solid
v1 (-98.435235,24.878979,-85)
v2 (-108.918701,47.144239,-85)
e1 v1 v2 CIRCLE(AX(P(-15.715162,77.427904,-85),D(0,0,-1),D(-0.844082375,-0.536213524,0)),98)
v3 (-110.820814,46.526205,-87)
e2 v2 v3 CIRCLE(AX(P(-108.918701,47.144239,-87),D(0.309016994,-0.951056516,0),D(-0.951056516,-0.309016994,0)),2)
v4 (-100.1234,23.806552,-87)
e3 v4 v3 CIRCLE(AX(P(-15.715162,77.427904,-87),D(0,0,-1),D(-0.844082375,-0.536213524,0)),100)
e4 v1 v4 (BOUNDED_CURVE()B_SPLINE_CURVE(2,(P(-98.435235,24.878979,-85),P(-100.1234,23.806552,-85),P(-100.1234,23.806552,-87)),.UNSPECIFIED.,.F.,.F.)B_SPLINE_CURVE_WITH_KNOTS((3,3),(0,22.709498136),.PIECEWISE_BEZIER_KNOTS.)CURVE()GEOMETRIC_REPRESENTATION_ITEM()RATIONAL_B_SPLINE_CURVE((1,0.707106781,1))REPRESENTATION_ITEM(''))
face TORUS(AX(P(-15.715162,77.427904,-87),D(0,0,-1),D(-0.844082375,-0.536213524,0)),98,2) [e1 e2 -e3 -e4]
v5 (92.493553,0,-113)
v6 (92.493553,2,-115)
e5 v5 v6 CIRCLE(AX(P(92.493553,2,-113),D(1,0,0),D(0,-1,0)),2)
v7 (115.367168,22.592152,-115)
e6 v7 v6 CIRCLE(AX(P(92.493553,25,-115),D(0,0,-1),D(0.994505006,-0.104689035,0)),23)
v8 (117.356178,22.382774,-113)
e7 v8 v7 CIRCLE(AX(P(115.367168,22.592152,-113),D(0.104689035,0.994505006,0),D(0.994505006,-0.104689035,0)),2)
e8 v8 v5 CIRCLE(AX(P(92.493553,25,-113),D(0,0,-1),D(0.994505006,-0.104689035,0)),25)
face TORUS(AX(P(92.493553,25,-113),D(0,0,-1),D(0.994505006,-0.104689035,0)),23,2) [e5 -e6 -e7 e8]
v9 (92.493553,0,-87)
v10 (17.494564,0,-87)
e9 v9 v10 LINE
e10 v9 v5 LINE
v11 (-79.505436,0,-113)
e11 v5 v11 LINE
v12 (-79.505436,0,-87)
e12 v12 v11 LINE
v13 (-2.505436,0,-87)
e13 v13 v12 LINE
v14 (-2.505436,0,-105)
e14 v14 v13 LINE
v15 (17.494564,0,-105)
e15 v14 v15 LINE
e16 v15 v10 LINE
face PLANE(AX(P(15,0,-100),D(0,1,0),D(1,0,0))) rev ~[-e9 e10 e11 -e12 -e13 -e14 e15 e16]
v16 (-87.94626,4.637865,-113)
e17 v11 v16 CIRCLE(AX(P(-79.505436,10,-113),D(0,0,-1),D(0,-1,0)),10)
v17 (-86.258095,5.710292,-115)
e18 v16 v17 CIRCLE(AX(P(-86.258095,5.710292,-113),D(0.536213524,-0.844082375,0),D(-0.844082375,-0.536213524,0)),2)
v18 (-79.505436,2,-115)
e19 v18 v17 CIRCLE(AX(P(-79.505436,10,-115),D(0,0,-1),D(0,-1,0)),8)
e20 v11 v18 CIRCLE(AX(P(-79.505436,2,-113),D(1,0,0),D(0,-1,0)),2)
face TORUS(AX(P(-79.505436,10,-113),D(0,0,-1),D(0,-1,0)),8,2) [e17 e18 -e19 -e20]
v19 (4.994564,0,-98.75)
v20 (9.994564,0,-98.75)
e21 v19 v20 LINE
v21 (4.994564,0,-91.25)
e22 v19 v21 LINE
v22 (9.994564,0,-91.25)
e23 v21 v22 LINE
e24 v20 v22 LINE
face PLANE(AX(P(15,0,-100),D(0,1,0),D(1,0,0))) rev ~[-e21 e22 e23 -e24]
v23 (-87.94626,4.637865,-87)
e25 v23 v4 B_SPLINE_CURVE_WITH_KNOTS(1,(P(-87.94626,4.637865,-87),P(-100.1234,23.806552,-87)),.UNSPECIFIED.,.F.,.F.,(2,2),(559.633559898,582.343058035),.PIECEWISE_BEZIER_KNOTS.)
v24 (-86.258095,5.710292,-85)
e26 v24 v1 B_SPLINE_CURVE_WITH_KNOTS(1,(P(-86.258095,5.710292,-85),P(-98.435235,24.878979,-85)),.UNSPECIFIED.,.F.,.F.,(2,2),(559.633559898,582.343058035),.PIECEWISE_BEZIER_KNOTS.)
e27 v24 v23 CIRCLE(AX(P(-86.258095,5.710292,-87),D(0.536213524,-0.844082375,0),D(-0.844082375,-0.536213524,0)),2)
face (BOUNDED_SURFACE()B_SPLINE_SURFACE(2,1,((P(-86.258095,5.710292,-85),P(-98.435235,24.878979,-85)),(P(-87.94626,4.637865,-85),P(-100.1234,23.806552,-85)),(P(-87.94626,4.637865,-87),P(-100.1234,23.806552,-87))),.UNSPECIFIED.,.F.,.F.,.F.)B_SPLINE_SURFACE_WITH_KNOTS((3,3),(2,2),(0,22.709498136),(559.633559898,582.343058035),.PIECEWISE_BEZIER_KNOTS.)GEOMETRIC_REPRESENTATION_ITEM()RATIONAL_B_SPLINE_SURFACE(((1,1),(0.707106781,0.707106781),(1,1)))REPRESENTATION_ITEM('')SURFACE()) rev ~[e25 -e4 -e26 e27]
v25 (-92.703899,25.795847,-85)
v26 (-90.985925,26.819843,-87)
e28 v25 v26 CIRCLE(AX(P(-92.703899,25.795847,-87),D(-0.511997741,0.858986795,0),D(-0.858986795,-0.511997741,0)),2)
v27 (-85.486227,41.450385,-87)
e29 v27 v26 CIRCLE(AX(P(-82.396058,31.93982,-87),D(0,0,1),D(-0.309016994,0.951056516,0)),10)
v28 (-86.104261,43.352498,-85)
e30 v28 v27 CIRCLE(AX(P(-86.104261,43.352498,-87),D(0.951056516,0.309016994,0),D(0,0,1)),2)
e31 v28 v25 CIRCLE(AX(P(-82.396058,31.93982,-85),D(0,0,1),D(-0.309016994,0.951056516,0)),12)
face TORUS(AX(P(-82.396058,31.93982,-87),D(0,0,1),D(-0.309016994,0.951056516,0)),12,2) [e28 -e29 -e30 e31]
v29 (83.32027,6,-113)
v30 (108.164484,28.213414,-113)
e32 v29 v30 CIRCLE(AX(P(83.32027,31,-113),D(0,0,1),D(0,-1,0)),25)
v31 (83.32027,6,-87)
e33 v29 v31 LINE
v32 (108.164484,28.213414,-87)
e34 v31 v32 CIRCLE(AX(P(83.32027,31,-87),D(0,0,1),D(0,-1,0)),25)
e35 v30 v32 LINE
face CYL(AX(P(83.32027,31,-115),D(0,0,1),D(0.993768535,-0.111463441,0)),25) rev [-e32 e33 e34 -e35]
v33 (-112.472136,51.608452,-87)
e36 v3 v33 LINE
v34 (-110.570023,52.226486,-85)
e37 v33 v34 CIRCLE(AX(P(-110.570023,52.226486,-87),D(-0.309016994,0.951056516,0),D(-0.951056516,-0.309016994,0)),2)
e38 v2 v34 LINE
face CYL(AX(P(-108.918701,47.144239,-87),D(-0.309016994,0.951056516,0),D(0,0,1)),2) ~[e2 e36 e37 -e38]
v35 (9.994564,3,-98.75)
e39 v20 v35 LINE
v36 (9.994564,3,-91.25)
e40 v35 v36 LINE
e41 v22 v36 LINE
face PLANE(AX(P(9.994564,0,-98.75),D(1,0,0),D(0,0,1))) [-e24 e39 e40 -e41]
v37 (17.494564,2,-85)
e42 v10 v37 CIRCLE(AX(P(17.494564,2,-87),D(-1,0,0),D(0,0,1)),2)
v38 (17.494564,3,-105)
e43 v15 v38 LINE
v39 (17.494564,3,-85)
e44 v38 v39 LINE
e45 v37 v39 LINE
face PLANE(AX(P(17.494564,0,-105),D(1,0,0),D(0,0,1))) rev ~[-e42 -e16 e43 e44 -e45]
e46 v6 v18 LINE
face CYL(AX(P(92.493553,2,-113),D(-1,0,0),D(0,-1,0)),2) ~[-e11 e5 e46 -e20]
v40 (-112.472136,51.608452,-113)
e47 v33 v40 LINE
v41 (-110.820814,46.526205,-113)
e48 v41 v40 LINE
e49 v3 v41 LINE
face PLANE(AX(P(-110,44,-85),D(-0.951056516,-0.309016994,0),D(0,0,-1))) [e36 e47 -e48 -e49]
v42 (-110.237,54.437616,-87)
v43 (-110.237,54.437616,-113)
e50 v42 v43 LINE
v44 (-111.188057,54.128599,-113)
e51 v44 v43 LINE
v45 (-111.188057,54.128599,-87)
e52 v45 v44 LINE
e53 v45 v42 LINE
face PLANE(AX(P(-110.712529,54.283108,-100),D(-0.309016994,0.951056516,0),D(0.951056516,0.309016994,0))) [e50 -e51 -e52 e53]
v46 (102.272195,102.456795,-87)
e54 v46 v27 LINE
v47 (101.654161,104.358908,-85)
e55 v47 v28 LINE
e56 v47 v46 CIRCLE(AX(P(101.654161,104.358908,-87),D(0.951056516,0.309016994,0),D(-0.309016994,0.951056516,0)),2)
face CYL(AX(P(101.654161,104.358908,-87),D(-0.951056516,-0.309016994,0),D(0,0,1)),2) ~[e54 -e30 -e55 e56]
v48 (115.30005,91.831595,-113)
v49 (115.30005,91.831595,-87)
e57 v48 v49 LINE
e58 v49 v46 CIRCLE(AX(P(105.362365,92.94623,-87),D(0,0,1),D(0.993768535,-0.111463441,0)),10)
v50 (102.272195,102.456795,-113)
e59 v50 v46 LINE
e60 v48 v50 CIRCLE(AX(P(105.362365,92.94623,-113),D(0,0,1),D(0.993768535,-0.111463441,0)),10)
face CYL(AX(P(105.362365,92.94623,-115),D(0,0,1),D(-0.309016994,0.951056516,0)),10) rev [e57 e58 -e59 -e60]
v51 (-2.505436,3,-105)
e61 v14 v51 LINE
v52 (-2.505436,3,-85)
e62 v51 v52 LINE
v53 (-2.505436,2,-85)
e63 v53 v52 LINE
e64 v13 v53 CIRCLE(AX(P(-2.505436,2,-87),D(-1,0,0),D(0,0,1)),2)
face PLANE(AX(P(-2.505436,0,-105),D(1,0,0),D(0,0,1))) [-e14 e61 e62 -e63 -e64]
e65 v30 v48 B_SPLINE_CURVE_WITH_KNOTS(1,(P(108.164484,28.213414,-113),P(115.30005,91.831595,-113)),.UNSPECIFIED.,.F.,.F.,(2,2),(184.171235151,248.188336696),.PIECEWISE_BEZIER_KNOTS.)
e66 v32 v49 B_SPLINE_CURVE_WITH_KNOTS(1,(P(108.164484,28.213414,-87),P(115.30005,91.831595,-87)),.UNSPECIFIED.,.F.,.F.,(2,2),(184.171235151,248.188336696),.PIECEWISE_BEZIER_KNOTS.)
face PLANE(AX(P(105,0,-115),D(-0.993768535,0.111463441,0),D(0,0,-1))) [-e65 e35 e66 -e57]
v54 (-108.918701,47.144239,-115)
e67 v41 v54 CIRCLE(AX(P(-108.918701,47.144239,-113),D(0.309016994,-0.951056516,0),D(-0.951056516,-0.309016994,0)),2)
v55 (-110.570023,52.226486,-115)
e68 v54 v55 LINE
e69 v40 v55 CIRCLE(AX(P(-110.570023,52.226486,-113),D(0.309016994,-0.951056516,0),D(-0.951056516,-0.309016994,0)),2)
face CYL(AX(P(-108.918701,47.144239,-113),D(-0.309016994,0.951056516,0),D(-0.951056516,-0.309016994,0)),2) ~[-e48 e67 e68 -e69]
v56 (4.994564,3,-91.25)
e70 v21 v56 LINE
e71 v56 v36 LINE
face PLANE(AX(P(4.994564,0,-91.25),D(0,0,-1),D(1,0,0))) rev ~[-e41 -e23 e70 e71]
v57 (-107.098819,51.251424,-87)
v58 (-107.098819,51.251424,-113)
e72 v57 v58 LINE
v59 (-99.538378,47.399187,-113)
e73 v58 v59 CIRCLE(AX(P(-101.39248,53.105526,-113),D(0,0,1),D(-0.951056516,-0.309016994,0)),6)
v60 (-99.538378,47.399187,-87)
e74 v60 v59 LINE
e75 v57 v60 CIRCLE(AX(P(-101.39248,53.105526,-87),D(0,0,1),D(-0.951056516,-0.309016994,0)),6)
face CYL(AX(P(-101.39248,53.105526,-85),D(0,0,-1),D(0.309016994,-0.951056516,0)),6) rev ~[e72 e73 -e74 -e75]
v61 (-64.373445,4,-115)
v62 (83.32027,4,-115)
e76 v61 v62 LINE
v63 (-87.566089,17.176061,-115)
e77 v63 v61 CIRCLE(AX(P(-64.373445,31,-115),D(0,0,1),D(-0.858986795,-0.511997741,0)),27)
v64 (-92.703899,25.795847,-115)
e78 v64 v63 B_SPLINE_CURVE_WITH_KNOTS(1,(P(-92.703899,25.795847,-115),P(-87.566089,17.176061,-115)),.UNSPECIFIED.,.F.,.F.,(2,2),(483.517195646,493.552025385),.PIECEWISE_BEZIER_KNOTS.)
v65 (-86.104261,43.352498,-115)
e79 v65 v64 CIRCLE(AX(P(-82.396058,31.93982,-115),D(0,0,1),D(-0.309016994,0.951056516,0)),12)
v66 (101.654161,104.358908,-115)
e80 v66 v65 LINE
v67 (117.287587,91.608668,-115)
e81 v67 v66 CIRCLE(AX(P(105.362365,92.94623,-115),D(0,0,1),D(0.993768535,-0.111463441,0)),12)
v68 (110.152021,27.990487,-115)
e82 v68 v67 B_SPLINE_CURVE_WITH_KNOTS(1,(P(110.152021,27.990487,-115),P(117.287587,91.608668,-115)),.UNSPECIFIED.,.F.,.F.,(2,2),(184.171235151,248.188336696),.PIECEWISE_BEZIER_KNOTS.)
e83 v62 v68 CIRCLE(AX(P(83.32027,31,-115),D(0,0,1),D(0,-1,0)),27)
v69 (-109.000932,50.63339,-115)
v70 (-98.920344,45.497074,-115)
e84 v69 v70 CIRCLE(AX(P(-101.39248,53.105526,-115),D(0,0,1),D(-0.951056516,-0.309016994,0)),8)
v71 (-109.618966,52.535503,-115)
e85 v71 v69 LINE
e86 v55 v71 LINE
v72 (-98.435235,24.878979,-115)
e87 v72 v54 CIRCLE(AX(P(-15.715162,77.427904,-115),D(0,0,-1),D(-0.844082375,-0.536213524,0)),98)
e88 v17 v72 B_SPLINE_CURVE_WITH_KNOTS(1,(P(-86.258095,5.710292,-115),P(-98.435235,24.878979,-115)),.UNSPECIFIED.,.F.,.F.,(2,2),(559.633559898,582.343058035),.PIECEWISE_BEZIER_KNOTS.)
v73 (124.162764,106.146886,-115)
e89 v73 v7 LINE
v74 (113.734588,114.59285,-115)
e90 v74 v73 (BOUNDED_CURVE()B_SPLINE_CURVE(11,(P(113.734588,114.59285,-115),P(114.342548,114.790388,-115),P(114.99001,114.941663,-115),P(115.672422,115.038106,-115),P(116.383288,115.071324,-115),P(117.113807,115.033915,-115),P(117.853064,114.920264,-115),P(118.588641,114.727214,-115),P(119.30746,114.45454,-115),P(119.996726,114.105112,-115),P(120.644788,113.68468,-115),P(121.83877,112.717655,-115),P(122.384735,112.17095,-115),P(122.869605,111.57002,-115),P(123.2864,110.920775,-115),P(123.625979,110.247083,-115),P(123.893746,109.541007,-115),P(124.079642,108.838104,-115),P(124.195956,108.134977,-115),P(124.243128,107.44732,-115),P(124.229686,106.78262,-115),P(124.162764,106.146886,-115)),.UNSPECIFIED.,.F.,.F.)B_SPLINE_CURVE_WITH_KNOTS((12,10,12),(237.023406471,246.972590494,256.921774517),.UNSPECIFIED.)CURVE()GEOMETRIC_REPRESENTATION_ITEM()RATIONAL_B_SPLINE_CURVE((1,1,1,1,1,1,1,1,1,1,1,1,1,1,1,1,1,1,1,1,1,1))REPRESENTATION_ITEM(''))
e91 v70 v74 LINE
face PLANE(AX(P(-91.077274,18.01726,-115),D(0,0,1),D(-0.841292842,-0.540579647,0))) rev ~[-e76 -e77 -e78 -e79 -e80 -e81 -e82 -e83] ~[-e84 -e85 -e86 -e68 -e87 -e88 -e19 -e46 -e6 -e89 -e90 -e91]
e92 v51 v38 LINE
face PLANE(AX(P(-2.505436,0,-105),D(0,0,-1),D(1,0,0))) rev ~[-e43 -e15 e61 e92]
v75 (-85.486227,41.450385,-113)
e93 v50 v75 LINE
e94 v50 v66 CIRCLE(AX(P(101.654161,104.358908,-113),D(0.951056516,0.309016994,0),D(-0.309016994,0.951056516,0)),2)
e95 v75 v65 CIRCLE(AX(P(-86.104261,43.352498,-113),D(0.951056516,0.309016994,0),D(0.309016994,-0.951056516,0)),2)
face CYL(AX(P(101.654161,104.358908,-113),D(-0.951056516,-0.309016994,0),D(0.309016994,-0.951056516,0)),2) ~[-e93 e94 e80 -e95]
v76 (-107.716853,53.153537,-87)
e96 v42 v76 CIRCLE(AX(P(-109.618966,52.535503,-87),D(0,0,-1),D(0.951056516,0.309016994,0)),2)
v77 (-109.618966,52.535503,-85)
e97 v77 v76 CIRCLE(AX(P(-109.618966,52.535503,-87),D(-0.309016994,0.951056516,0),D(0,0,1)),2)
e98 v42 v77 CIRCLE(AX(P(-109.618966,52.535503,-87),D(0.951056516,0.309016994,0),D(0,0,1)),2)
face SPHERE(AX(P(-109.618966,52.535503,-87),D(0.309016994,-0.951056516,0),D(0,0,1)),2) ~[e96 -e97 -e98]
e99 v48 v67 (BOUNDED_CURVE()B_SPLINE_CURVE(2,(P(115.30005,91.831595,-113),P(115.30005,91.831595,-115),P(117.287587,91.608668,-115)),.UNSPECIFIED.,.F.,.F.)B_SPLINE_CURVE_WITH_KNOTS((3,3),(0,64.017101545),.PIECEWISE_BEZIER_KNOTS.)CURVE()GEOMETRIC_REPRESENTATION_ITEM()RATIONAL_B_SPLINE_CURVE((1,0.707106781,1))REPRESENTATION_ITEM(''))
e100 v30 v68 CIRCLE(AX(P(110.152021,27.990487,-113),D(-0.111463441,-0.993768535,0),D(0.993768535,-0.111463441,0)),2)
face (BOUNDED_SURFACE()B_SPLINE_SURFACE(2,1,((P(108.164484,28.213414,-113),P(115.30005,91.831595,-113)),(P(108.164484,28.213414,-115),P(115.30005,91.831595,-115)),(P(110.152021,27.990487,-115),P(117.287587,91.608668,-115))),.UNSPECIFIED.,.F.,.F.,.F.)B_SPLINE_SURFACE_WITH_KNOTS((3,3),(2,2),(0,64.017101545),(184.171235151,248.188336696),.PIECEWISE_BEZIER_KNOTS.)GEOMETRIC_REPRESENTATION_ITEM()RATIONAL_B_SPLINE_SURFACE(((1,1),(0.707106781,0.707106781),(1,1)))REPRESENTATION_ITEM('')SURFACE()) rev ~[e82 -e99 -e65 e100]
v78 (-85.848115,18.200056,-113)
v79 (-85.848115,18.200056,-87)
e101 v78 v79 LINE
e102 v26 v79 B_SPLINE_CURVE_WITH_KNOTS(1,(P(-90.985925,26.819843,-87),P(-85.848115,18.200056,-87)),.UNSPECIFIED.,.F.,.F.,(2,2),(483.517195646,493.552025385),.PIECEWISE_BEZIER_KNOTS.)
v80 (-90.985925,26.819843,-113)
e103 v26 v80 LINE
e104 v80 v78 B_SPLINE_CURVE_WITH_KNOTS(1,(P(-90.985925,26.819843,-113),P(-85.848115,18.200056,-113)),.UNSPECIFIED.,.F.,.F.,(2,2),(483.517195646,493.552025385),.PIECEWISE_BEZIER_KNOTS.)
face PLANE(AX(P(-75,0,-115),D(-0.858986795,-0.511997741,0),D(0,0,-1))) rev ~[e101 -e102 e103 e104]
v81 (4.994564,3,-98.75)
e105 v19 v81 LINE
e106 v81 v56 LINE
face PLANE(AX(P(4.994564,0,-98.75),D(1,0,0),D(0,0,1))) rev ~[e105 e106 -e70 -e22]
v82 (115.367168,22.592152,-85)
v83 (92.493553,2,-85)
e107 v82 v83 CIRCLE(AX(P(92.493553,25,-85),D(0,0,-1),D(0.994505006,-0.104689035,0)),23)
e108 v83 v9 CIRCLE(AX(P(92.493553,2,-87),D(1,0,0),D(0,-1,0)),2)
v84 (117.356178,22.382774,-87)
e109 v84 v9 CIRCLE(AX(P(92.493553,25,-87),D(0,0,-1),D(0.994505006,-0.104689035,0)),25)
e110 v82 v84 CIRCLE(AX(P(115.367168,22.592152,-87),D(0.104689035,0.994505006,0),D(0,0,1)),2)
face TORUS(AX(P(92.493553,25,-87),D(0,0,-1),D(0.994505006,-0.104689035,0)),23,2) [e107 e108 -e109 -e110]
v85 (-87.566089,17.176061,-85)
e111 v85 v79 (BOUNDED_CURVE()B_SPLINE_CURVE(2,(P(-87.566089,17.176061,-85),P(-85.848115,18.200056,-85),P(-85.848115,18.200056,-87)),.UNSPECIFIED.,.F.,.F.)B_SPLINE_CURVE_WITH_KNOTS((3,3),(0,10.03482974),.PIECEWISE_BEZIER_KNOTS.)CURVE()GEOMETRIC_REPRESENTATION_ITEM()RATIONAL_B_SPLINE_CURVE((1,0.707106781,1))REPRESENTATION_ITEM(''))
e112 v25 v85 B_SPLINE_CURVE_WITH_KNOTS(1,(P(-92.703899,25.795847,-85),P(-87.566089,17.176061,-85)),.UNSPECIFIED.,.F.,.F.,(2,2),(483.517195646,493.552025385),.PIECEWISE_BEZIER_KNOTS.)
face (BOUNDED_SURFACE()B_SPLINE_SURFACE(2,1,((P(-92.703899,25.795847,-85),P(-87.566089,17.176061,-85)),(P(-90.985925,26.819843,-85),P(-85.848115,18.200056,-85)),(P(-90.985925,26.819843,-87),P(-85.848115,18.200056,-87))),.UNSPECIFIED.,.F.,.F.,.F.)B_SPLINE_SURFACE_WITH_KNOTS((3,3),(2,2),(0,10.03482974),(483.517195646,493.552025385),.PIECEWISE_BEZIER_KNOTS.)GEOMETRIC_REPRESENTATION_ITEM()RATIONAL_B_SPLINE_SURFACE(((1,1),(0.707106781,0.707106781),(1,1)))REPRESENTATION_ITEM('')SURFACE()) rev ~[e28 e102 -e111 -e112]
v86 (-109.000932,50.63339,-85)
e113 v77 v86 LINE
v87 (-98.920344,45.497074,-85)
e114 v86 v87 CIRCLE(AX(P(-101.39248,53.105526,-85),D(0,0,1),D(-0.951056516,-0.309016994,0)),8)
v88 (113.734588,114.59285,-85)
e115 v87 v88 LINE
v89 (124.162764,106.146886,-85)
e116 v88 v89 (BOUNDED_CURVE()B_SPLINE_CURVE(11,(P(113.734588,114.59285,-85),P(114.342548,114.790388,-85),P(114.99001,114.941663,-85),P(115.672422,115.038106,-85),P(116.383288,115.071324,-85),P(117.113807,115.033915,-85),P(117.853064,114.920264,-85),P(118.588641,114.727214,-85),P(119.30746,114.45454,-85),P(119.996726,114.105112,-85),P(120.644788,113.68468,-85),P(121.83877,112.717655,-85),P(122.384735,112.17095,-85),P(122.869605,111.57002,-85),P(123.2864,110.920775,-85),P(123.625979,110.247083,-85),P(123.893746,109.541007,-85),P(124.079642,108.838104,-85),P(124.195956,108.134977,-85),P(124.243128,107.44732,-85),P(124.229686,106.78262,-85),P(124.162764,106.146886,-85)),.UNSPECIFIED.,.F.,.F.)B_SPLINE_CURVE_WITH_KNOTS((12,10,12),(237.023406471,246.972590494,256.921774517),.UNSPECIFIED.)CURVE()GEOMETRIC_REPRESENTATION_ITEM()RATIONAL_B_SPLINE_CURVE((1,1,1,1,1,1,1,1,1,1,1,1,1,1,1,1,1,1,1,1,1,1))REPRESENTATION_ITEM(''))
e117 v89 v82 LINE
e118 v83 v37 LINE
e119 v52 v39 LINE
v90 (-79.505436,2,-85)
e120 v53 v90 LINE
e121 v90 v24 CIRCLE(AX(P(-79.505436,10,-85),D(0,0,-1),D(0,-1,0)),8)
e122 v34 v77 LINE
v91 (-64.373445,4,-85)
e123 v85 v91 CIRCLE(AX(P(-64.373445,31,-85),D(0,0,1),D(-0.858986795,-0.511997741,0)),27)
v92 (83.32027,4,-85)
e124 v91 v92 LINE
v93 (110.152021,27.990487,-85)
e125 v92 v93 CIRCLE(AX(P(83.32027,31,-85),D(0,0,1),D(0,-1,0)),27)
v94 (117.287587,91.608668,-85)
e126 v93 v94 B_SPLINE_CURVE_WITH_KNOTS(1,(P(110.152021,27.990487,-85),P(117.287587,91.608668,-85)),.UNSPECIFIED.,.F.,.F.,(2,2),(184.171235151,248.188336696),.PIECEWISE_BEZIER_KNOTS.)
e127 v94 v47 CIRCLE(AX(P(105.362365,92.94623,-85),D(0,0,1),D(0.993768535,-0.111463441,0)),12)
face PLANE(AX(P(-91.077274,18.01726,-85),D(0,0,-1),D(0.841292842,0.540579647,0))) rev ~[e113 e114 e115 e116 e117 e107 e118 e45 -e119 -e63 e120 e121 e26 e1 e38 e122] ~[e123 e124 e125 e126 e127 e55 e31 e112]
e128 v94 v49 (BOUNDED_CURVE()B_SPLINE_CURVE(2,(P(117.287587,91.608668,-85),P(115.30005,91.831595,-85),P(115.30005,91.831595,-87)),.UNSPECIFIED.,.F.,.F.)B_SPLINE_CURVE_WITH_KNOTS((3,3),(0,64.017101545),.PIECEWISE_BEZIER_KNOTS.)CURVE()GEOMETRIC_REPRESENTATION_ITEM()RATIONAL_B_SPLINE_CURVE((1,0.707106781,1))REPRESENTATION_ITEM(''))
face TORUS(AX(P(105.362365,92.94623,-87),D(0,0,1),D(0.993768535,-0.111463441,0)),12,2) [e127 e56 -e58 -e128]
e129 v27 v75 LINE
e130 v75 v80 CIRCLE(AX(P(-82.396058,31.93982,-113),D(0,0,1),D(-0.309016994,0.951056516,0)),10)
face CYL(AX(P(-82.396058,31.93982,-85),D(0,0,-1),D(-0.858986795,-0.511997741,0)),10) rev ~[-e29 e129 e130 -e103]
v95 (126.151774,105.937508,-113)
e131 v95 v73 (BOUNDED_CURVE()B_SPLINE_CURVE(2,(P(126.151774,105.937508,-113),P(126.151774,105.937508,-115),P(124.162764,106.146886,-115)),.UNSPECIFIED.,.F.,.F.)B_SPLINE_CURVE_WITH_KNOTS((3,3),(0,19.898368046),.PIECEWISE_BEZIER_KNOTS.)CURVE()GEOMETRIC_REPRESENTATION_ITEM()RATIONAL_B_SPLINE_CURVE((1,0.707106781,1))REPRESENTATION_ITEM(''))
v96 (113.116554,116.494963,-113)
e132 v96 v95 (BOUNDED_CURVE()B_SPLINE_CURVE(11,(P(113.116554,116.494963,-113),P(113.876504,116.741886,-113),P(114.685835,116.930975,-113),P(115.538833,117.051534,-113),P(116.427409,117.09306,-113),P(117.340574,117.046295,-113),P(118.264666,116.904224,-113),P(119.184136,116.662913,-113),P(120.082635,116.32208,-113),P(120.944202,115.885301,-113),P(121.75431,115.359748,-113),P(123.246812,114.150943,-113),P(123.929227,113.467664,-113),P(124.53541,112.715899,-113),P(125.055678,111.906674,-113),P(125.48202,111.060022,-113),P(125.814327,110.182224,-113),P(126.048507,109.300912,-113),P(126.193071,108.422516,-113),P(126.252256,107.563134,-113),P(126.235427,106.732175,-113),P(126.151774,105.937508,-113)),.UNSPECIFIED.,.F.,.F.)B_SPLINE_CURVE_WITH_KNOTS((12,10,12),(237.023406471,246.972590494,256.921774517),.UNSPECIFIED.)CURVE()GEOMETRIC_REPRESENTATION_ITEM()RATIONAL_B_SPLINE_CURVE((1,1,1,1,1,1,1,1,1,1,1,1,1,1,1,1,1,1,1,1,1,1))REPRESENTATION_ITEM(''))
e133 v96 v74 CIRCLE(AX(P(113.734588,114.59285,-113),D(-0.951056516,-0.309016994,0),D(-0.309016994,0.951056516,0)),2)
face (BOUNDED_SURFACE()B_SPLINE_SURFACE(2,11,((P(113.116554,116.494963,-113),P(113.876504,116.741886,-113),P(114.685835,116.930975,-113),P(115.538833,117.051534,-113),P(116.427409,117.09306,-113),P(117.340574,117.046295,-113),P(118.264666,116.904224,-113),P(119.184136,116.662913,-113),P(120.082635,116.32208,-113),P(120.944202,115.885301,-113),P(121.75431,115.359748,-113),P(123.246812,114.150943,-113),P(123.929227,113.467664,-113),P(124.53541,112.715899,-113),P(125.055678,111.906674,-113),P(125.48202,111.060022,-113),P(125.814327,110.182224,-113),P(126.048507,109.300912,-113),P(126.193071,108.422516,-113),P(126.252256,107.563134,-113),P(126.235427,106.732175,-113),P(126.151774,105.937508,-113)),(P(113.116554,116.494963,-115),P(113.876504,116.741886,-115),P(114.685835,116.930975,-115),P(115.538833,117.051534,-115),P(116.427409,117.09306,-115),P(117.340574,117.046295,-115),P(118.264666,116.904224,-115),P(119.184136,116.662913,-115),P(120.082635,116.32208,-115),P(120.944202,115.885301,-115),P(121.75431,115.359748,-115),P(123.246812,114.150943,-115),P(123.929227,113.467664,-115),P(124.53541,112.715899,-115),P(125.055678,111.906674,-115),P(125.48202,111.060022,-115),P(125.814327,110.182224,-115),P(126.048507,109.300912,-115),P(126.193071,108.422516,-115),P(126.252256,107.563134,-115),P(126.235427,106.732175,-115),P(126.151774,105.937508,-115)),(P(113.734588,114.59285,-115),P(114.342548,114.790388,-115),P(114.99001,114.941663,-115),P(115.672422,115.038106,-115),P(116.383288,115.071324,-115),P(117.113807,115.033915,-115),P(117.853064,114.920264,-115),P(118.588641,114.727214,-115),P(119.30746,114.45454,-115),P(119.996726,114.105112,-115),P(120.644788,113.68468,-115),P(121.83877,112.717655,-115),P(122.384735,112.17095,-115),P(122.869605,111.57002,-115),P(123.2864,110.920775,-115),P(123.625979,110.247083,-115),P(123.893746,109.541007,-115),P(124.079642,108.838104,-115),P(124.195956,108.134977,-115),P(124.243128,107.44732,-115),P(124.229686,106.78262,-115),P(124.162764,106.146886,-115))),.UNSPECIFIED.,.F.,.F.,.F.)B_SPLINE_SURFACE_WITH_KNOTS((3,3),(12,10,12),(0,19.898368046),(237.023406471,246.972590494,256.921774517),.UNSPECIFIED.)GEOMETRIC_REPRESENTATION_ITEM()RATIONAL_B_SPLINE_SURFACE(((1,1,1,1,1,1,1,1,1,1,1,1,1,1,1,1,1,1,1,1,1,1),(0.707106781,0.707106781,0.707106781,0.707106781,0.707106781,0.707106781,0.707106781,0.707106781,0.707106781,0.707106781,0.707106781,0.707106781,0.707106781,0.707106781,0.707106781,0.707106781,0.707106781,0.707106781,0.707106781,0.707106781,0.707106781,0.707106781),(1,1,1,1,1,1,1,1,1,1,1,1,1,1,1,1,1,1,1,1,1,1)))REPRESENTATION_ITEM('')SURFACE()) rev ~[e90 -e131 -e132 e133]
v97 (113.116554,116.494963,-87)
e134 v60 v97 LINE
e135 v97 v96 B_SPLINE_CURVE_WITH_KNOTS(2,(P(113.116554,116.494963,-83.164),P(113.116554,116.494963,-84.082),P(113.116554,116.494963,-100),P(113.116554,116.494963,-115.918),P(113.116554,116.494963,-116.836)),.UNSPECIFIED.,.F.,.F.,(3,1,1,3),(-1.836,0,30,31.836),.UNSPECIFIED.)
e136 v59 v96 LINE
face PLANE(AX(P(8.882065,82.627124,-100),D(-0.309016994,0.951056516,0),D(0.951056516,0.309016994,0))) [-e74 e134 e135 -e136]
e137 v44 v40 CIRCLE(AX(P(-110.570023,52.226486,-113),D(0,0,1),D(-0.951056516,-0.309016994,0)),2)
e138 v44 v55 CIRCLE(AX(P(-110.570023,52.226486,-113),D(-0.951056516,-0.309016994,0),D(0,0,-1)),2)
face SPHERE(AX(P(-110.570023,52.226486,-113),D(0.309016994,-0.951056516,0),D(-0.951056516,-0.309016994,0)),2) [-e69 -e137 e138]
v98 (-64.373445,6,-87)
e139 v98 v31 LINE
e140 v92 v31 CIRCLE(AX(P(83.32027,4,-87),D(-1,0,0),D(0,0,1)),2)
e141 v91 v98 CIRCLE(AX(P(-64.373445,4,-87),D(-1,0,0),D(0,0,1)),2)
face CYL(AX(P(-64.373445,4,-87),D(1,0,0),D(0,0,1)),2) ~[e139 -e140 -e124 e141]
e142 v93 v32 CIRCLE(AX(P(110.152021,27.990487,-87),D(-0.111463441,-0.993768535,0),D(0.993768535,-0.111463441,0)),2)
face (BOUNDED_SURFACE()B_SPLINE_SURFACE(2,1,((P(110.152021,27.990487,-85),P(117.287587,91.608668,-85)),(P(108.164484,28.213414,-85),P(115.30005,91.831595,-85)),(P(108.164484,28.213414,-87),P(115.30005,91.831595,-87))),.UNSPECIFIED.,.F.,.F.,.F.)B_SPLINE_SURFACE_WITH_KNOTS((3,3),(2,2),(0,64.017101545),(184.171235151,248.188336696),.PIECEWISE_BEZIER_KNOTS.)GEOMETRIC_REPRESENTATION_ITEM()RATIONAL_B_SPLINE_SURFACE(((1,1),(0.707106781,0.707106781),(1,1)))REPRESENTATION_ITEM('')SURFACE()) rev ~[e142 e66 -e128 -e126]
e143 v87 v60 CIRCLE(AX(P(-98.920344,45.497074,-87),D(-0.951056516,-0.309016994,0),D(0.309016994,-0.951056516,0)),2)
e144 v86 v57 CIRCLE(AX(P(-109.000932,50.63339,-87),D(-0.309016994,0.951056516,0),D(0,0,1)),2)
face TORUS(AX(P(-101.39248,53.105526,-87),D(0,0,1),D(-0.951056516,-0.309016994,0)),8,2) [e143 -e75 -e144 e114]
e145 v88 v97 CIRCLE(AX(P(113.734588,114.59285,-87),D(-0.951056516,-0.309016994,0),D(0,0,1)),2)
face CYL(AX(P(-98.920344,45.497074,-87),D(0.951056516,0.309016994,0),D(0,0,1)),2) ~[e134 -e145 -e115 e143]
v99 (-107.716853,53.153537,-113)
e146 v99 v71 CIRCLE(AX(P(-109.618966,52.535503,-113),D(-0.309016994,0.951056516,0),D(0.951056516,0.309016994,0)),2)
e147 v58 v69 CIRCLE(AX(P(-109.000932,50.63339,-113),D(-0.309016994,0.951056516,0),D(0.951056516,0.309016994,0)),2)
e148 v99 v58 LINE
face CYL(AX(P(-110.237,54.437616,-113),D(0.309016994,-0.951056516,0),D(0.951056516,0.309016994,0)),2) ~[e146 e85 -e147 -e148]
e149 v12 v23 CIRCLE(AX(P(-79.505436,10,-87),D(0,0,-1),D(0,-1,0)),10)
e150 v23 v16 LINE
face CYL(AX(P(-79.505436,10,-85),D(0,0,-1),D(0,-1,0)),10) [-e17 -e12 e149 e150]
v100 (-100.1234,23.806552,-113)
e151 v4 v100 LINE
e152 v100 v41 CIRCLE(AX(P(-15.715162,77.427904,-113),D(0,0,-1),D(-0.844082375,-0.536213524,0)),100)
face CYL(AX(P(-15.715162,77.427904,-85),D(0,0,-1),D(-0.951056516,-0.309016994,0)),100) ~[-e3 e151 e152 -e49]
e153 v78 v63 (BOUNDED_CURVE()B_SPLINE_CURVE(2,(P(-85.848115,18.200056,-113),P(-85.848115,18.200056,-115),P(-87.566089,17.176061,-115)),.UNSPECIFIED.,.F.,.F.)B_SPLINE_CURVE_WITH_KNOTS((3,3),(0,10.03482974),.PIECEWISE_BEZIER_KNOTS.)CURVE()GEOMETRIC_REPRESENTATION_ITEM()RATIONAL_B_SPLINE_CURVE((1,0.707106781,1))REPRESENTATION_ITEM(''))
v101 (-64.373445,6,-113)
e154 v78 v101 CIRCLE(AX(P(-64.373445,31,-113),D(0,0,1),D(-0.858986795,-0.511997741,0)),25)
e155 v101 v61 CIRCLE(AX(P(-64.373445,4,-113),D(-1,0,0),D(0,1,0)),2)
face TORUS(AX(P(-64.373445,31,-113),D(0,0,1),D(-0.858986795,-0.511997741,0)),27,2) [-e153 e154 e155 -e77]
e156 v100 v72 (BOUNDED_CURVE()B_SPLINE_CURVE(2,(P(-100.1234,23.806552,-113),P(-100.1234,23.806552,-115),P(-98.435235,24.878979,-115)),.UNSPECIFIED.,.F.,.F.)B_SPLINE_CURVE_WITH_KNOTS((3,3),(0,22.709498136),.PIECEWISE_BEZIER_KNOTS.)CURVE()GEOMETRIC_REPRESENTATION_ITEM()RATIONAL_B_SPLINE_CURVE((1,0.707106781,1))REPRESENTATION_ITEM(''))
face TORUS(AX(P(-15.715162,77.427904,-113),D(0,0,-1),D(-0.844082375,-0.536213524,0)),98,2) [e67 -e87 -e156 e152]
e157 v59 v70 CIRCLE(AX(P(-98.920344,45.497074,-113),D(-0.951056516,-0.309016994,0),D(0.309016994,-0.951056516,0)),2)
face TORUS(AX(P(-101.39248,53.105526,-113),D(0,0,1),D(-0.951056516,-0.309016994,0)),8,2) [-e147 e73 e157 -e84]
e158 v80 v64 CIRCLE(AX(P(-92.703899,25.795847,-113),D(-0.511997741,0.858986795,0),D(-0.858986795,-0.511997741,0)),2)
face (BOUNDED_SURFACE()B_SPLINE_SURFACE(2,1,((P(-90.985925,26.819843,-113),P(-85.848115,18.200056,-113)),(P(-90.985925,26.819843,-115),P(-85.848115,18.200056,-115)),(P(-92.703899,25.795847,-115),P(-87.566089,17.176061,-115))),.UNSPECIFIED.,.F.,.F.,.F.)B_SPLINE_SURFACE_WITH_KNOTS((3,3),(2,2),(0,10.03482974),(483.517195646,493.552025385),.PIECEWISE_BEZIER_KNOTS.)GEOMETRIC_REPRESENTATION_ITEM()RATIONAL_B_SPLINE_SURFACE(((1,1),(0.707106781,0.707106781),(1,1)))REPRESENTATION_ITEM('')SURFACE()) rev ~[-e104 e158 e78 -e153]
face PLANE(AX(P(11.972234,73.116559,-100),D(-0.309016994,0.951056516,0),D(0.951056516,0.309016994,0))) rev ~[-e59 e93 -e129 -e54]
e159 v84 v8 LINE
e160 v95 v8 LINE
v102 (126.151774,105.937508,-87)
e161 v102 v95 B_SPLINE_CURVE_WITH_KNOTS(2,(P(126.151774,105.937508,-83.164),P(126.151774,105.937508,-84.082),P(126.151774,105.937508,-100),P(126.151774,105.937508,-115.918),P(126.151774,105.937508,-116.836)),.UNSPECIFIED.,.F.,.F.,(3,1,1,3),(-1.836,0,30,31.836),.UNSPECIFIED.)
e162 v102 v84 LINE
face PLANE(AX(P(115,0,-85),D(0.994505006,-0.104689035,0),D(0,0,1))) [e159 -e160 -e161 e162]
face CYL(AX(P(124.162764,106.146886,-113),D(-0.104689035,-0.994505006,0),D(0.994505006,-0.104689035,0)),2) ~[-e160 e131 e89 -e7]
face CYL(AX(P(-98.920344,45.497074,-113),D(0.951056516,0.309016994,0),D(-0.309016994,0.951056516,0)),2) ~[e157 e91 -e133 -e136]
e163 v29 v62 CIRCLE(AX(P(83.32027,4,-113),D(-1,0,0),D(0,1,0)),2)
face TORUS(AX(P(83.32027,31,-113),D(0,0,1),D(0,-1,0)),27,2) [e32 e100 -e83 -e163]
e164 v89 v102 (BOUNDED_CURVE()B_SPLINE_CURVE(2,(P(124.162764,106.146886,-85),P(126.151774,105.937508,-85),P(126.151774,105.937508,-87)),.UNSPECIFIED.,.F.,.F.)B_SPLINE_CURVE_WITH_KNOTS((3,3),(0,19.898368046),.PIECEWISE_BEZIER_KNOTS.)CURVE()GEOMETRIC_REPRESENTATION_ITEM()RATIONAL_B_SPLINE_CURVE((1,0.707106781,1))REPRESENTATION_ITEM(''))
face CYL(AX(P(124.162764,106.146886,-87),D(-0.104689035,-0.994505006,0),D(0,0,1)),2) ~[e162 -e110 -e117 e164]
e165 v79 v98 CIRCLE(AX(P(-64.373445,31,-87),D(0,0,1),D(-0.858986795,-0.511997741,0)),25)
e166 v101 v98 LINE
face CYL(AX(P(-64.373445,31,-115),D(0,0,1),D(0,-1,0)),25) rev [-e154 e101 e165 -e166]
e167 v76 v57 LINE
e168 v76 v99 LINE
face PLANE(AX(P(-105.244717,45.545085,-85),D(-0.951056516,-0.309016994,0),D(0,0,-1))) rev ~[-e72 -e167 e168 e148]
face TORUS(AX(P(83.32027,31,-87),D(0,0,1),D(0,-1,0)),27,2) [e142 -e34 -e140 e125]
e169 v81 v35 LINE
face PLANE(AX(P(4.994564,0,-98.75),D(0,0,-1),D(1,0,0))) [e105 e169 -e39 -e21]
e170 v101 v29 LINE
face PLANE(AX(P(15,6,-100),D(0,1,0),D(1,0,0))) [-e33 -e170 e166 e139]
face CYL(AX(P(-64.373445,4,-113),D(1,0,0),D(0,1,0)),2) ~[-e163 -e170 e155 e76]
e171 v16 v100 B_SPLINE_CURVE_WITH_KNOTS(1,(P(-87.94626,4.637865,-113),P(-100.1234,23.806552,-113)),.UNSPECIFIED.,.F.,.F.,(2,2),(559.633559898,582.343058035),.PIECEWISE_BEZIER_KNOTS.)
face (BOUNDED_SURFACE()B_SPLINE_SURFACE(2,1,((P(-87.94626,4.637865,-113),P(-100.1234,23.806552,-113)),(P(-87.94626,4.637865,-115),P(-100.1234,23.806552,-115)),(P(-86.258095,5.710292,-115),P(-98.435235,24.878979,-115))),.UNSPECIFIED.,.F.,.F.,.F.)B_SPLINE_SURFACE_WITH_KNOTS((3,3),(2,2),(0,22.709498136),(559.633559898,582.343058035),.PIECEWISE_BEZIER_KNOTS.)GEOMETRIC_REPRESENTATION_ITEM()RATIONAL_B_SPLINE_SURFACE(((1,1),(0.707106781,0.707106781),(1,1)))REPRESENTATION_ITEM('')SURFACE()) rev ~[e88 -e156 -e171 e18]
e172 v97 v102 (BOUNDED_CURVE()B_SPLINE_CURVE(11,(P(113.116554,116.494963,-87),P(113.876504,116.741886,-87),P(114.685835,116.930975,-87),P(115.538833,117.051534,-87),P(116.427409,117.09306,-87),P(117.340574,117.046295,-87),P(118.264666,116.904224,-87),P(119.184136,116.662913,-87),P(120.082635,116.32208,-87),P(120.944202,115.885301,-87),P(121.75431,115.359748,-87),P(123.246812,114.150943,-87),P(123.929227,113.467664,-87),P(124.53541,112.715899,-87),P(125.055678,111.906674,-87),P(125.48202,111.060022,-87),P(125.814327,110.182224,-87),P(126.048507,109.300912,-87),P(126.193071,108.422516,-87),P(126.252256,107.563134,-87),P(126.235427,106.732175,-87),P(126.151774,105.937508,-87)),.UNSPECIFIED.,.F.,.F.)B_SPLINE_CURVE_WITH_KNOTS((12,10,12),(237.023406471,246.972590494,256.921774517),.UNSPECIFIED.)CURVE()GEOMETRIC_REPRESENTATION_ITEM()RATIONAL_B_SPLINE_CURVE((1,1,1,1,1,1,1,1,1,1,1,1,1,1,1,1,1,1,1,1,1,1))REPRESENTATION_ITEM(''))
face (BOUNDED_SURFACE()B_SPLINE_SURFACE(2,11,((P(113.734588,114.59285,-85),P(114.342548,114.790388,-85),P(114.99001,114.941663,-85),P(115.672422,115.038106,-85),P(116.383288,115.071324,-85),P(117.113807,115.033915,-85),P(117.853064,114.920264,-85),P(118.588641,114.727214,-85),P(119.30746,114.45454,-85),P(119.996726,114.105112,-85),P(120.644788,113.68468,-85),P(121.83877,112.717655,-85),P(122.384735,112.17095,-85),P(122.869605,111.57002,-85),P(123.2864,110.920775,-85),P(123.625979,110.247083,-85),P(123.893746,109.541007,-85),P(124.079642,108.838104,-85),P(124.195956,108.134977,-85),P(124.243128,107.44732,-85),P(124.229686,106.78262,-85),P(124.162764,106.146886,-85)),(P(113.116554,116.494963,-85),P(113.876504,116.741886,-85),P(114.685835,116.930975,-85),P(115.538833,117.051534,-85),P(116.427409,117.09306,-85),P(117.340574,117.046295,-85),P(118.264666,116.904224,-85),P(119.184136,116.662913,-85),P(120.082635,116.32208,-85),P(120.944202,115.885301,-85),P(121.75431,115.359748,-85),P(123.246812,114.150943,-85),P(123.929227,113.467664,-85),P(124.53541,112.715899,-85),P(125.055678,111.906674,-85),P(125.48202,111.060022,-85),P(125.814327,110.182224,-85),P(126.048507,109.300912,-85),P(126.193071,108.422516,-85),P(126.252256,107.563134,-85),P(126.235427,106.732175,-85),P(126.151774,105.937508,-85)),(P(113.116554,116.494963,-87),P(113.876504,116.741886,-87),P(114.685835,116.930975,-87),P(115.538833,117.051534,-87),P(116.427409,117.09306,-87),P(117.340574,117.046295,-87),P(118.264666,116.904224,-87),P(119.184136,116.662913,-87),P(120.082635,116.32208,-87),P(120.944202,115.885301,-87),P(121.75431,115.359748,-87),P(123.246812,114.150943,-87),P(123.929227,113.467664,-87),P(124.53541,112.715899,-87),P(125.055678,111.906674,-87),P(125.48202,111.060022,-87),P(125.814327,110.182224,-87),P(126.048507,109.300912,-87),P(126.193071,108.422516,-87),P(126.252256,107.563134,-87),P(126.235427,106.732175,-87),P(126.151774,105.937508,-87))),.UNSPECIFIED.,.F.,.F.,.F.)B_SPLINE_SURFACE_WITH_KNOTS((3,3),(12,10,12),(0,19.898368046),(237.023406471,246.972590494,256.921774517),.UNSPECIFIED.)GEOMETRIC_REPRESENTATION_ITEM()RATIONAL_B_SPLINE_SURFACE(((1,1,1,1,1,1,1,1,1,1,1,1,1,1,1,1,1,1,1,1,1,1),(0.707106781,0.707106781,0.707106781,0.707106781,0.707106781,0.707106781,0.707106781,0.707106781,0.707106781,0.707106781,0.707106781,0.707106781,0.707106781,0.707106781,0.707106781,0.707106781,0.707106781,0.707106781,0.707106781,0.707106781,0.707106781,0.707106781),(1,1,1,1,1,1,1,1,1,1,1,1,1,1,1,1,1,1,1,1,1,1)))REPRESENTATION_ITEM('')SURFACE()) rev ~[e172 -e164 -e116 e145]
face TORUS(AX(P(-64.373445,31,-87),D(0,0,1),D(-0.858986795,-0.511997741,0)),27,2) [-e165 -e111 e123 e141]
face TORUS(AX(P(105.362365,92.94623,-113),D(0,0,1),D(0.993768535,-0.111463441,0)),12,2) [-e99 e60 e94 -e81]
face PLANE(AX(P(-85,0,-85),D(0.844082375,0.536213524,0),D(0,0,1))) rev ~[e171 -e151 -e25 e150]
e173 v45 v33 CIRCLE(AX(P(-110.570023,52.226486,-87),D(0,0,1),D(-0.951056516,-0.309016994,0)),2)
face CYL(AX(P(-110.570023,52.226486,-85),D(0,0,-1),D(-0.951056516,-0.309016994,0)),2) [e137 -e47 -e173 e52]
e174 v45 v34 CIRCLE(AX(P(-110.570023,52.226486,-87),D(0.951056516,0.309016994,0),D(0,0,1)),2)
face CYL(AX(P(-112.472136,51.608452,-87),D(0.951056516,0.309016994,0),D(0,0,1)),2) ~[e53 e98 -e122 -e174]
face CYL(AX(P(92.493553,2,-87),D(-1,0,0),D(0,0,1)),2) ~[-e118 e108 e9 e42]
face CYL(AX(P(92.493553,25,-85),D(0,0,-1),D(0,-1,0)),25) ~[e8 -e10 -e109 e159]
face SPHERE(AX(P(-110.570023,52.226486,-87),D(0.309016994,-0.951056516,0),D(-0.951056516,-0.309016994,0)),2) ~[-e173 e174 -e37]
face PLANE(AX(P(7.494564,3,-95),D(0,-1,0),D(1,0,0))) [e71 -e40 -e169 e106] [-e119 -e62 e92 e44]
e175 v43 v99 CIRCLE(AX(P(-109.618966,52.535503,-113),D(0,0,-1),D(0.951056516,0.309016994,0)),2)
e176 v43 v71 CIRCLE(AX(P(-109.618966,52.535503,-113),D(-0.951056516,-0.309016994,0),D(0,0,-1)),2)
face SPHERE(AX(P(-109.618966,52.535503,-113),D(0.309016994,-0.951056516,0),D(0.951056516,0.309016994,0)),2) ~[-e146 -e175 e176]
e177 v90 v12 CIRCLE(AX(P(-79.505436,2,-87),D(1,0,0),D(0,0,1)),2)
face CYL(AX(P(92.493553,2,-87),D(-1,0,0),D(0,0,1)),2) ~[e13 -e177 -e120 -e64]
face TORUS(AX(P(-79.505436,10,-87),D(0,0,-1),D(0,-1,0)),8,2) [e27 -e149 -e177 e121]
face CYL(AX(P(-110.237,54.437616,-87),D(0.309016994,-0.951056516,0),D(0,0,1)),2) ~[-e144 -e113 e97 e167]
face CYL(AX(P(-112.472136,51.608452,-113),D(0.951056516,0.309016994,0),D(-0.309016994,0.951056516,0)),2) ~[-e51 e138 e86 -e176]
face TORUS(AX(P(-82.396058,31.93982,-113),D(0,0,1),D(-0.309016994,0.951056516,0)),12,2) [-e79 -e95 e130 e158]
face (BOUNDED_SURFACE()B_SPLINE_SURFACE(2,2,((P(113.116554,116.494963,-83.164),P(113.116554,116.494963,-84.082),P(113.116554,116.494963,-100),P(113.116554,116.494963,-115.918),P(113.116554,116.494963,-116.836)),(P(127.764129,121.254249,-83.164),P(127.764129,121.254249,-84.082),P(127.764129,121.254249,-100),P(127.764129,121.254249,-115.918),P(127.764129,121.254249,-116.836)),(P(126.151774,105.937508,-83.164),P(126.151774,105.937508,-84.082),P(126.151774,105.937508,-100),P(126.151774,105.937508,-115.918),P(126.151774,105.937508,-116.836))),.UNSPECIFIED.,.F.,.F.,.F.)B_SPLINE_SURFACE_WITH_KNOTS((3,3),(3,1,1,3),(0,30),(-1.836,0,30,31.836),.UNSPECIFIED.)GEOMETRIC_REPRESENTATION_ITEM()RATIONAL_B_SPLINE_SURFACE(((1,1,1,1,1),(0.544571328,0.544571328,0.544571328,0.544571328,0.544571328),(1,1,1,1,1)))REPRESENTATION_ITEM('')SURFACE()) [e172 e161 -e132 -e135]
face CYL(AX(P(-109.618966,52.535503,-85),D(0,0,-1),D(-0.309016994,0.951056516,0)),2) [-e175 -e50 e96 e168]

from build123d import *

# Parameters (mm, degrees)
SKETCH2_W           = 250
SKETCH2_H           = 30
BOSS_EXTRUDE1_DEPTH = 10
SKETCH3_W           = 5
SKETCH3_H           = 30
BOSS_EXTRUDE2_DEPTH = 10
SKETCH4_W           = 200
SKETCH4_H           = 30
BOSS_EXTRUDE3_DEPTH = 6
SKETCH11_W          = 30
SKETCH11_H          = 55
CUT_EXTRUDE2_DEPTH  = 10
FILLET1_R           = 25
FILLET9_R           = 10
FILLET8_R           = 10
FILLET11_R          = 25
FILLET5_R           = 6
FILLET10_R          = 100
FILLET6_R           = 2
SKETCH12_W          = 20
SKETCH12_H          = 20
SKETCH12_W_2        = 5
SKETCH12_H_2        = 7.5
CUT_EXTRUDE3_DEPTH  = 3


with BuildPart() as part:
    # Sketch2 → Boss-Extrude1 (new body)
    with BuildSketch(Plane(origin=(-23.43534086, 72.126562752, 0), x_dir=(0.9510565162951534, 0.3090169943749482, 0), z_dir=(-0.3090169943749481, 0.9510565162951533, 0))):
        with Locations((33.98053096, 100)):
            Rectangle(SKETCH2_W, SKETCH2_H)
    extrude(amount=-BOSS_EXTRUDE1_DEPTH)

    # Sketch3 → Boss-Extrude2 (add)
    with BuildSketch(Plane(origin=(-23.43534086, 72.126562752, 0), x_dir=(0.9510565162951534, 0.3090169943749482, 0), z_dir=(-0.3090169943749481, 0.9510565162951533, 0))):
        with Locations((-88.51946904, 100)):
            Rectangle(SKETCH3_W, SKETCH3_H)
    extrude(amount=BOSS_EXTRUDE2_DEPTH)



with BuildPart() as body_2:
    # Sketch4 → Boss-Extrude3 (new body)
    with BuildSketch(Plane(origin=(0, 0, 0), x_dir=(1, 0, 0), z_dir=(0, 1, 0))):
        with Locations((15, 100)):
            Rectangle(SKETCH4_W, SKETCH4_H)
    extrude(amount=BOSS_EXTRUDE3_DEPTH)


with BuildPart() as part_1:
    add(part.part)

    add(body_2.part)  # Loft1 merges body 2
    # Sketch6 → Loft1 section 0
    with BuildSketch(Plane(origin=(-23.43534086, 72.126562752, 0), x_dir=(0.9510565162951534, 0.3090169943749482, 0), z_dir=(0.3090169943749481, -0.9510565162951533, 0))):
        with BuildLine():
            Line((158.98053096, -85), (148.98053096, -85))
            Line((148.98053096, -85), (148.98053096, -115))
            Line((148.98053096, -115), (158.98053096, -115))
            Line((158.98053096, -115), (158.98053096, -85))
        make_face()
    # Sketch5 → Loft1 section 1
    with BuildSketch(Plane(origin=(0, 0, 0), x_dir=(1, 0, 0), z_dir=(0, 1, 0))):
        with BuildLine():
            Line((115, 115), (105, 115))
            Line((105, 115), (105, 85))
            Line((105, 85), (115, 85))
            Line((115, 85), (115, 115))
        make_face()
    loft()

    # Sketch11 → Cut-Extrude2 (cut)
    with BuildSketch(Plane(origin=(113.739623688, -11.973083454, 0), x_dir=(0, 0, -1), z_dir=(0.9945050055104876, -0.1046890348345292, 0))):
        with Locations((100, 135.5)):
            Rectangle(SKETCH11_W, SKETCH11_H)
    extrude(amount=CUT_EXTRUDE2_DEPTH, mode=Mode.SUBTRACT)

    # Sketch9 → Loft2 section 0
    with BuildSketch(Plane(origin=(-20.345170916, 62.615997589, 0), x_dir=(0.9510565162951534, 0.3090169943749482, 0), z_dir=(0.3090169943749481, -0.9510565162951533, 0))):
        with BuildLine():
            Line((-91.01946904, -85), (-81.01946904, -85))
            Line((-81.01946904, -85), (-81.01946904, -115))
            Line((-81.01946904, -115), (-91.01946904, -115))
            Line((-91.01946904, -115), (-91.01946904, -85))
        make_face()
    # Sketch10 → Loft2 section 1
    with BuildSketch(Plane(origin=(0, 0, 0), x_dir=(1, 0, 0), z_dir=(0, 1, 0))):
        with BuildLine():
            Line((-85, 115), (-75, 115))
            Line((-75, 115), (-75, 85))
            Line((-75, 85), (-85, 85))
            Line((-85, 85), (-85, 115))
        make_face()
    loft()

    # Fillet1
    fillet1_edges = [part_1.edges().sort_by_distance(p)[0] for p in [
        (105.672974261, 6, -100),
        (-78.576290654, 6, -100),
    ]]
    fillet(fillet1_edges, radius=FILLET1_R)

    # Fillet9
    fillet9_edges = [part_1.edges().sort_by_distance(p)[0] for p in [
        (127.764129074, 121.254248594, -100),
    ]]
    fillet(fillet9_edges, radius=FILLET9_R)

    # Fillet8
    fillet8_edges = [part_1.edges().sort_by_distance(p)[0] for p in [
        (117.029613529, 107.251770821, -100),
        (-97.399264893, 37.579604781, -100),
        (-85, 0, -100),
    ]]
    fillet(fillet8_edges, radius=FILLET8_R)

    # Fillet11
    fillet11_edges = [part_1.edges().sort_by_distance(p)[0] for p in [
        (115, 0, -100),
    ]]
    fillet(fillet11_edges, radius=FILLET11_R)

    # Fillet5
    fillet5_edges = [part_1.edges().sort_by_distance(p)[0] for p in [
        (-105.244717419, 45.545084972, -100),
    ]]
    fillet(fillet5_edges, radius=FILLET5_R)

    # Fillet10
    fillet10_edges = [part_1.edges().sort_by_distance(p)[0] for p in [
        (-106.909830056, 34.489434837, -100),
    ]]
    fillet(fillet10_edges, radius=FILLET10_R)

    # Fillet6
    fillet6_edges = [part_1.edges().sort_by_distance(p)[0] for p in [
        (9.473412371, 6, -115),
        (9.473412371, 6, -85),
        (-76.722563068, 9.262951119, -85),
        (-76.722563068, 9.262951119, -115),
        (99.983633439, 12.363146047, -85),
        (99.983633439, 12.363146047, -115),
        (121.753976282, 64.160140842, -85),
        (121.753976282, 64.160140842, -115),
        (6.789088019, 81.947075002, -85),
        (122.500555572, 114.755349451, -85),
        (122.500555572, 114.755349451, -115),
        (6.494058609, 0, -85),
        (-88.417020392, 22.509949594, -85),
        (8.392983609, 71.953590028, -85),
        (111.732266775, 60.02250459, -85),
        (-84.320965292, 1.235829976, -85),
        (8.392983609, 71.953590028, -115),
        (-88.417020392, 22.509949594, -115),
        (111.732266775, 60.02250459, -115),
        (-84.320965292, 1.235829976, -115),
        (-91.756560464, 35.458482469, -85),
        (-91.756560464, 35.458482469, -115),
        (111.682636246, 100.69569196, -115),
        (111.682636246, 100.69569196, -85),
        (-107.716853374, 53.153537102, -85),
        (-107.716853374, 53.153537102, -115),
        (-113.090169944, 53.510565163, -100),
        (-110.712528653, 54.283107649, -85),
        (-108.334887362, 55.055650135, -100),
        (6.494058609, 0, -115),
        (109.220318345, 6.420028972, -115),
        (-110.712528653, 54.283107649, -115),
        (109.220318345, 6.420028972, -85),
        (6.789088019, 81.947075002, -115),
        (-104.116423285, 47.759486891, -115),
        (-104.116423285, 47.759486891, -85),
        (-111.955491831, 50.018385015, -85),
        (-111.955491831, 50.018385015, -115),
        (-94.034829619, 14.222208325, -85),
        (-106.188112518, 34.829251267, -85),
        (-94.034829619, 14.222208325, -115),
        (-106.188112518, 34.829251267, -115),
    ]]
    fillet(fillet6_edges, radius=FILLET6_R)

    # Sketch12 → Cut-Extrude3 (cut)
    with BuildSketch(Plane.XZ):
        with Locations((7.494564149, -95)):
            Rectangle(SKETCH12_W, SKETCH12_H)
        with Locations((7.494564149, -95)):
            Rectangle(SKETCH12_W_2, SKETCH12_H_2, mode=Mode.SUBTRACT)
    extrude(amount=-CUT_EXTRUDE3_DEPTH, mode=Mode.SUBTRACT)


solid = part_1.part
